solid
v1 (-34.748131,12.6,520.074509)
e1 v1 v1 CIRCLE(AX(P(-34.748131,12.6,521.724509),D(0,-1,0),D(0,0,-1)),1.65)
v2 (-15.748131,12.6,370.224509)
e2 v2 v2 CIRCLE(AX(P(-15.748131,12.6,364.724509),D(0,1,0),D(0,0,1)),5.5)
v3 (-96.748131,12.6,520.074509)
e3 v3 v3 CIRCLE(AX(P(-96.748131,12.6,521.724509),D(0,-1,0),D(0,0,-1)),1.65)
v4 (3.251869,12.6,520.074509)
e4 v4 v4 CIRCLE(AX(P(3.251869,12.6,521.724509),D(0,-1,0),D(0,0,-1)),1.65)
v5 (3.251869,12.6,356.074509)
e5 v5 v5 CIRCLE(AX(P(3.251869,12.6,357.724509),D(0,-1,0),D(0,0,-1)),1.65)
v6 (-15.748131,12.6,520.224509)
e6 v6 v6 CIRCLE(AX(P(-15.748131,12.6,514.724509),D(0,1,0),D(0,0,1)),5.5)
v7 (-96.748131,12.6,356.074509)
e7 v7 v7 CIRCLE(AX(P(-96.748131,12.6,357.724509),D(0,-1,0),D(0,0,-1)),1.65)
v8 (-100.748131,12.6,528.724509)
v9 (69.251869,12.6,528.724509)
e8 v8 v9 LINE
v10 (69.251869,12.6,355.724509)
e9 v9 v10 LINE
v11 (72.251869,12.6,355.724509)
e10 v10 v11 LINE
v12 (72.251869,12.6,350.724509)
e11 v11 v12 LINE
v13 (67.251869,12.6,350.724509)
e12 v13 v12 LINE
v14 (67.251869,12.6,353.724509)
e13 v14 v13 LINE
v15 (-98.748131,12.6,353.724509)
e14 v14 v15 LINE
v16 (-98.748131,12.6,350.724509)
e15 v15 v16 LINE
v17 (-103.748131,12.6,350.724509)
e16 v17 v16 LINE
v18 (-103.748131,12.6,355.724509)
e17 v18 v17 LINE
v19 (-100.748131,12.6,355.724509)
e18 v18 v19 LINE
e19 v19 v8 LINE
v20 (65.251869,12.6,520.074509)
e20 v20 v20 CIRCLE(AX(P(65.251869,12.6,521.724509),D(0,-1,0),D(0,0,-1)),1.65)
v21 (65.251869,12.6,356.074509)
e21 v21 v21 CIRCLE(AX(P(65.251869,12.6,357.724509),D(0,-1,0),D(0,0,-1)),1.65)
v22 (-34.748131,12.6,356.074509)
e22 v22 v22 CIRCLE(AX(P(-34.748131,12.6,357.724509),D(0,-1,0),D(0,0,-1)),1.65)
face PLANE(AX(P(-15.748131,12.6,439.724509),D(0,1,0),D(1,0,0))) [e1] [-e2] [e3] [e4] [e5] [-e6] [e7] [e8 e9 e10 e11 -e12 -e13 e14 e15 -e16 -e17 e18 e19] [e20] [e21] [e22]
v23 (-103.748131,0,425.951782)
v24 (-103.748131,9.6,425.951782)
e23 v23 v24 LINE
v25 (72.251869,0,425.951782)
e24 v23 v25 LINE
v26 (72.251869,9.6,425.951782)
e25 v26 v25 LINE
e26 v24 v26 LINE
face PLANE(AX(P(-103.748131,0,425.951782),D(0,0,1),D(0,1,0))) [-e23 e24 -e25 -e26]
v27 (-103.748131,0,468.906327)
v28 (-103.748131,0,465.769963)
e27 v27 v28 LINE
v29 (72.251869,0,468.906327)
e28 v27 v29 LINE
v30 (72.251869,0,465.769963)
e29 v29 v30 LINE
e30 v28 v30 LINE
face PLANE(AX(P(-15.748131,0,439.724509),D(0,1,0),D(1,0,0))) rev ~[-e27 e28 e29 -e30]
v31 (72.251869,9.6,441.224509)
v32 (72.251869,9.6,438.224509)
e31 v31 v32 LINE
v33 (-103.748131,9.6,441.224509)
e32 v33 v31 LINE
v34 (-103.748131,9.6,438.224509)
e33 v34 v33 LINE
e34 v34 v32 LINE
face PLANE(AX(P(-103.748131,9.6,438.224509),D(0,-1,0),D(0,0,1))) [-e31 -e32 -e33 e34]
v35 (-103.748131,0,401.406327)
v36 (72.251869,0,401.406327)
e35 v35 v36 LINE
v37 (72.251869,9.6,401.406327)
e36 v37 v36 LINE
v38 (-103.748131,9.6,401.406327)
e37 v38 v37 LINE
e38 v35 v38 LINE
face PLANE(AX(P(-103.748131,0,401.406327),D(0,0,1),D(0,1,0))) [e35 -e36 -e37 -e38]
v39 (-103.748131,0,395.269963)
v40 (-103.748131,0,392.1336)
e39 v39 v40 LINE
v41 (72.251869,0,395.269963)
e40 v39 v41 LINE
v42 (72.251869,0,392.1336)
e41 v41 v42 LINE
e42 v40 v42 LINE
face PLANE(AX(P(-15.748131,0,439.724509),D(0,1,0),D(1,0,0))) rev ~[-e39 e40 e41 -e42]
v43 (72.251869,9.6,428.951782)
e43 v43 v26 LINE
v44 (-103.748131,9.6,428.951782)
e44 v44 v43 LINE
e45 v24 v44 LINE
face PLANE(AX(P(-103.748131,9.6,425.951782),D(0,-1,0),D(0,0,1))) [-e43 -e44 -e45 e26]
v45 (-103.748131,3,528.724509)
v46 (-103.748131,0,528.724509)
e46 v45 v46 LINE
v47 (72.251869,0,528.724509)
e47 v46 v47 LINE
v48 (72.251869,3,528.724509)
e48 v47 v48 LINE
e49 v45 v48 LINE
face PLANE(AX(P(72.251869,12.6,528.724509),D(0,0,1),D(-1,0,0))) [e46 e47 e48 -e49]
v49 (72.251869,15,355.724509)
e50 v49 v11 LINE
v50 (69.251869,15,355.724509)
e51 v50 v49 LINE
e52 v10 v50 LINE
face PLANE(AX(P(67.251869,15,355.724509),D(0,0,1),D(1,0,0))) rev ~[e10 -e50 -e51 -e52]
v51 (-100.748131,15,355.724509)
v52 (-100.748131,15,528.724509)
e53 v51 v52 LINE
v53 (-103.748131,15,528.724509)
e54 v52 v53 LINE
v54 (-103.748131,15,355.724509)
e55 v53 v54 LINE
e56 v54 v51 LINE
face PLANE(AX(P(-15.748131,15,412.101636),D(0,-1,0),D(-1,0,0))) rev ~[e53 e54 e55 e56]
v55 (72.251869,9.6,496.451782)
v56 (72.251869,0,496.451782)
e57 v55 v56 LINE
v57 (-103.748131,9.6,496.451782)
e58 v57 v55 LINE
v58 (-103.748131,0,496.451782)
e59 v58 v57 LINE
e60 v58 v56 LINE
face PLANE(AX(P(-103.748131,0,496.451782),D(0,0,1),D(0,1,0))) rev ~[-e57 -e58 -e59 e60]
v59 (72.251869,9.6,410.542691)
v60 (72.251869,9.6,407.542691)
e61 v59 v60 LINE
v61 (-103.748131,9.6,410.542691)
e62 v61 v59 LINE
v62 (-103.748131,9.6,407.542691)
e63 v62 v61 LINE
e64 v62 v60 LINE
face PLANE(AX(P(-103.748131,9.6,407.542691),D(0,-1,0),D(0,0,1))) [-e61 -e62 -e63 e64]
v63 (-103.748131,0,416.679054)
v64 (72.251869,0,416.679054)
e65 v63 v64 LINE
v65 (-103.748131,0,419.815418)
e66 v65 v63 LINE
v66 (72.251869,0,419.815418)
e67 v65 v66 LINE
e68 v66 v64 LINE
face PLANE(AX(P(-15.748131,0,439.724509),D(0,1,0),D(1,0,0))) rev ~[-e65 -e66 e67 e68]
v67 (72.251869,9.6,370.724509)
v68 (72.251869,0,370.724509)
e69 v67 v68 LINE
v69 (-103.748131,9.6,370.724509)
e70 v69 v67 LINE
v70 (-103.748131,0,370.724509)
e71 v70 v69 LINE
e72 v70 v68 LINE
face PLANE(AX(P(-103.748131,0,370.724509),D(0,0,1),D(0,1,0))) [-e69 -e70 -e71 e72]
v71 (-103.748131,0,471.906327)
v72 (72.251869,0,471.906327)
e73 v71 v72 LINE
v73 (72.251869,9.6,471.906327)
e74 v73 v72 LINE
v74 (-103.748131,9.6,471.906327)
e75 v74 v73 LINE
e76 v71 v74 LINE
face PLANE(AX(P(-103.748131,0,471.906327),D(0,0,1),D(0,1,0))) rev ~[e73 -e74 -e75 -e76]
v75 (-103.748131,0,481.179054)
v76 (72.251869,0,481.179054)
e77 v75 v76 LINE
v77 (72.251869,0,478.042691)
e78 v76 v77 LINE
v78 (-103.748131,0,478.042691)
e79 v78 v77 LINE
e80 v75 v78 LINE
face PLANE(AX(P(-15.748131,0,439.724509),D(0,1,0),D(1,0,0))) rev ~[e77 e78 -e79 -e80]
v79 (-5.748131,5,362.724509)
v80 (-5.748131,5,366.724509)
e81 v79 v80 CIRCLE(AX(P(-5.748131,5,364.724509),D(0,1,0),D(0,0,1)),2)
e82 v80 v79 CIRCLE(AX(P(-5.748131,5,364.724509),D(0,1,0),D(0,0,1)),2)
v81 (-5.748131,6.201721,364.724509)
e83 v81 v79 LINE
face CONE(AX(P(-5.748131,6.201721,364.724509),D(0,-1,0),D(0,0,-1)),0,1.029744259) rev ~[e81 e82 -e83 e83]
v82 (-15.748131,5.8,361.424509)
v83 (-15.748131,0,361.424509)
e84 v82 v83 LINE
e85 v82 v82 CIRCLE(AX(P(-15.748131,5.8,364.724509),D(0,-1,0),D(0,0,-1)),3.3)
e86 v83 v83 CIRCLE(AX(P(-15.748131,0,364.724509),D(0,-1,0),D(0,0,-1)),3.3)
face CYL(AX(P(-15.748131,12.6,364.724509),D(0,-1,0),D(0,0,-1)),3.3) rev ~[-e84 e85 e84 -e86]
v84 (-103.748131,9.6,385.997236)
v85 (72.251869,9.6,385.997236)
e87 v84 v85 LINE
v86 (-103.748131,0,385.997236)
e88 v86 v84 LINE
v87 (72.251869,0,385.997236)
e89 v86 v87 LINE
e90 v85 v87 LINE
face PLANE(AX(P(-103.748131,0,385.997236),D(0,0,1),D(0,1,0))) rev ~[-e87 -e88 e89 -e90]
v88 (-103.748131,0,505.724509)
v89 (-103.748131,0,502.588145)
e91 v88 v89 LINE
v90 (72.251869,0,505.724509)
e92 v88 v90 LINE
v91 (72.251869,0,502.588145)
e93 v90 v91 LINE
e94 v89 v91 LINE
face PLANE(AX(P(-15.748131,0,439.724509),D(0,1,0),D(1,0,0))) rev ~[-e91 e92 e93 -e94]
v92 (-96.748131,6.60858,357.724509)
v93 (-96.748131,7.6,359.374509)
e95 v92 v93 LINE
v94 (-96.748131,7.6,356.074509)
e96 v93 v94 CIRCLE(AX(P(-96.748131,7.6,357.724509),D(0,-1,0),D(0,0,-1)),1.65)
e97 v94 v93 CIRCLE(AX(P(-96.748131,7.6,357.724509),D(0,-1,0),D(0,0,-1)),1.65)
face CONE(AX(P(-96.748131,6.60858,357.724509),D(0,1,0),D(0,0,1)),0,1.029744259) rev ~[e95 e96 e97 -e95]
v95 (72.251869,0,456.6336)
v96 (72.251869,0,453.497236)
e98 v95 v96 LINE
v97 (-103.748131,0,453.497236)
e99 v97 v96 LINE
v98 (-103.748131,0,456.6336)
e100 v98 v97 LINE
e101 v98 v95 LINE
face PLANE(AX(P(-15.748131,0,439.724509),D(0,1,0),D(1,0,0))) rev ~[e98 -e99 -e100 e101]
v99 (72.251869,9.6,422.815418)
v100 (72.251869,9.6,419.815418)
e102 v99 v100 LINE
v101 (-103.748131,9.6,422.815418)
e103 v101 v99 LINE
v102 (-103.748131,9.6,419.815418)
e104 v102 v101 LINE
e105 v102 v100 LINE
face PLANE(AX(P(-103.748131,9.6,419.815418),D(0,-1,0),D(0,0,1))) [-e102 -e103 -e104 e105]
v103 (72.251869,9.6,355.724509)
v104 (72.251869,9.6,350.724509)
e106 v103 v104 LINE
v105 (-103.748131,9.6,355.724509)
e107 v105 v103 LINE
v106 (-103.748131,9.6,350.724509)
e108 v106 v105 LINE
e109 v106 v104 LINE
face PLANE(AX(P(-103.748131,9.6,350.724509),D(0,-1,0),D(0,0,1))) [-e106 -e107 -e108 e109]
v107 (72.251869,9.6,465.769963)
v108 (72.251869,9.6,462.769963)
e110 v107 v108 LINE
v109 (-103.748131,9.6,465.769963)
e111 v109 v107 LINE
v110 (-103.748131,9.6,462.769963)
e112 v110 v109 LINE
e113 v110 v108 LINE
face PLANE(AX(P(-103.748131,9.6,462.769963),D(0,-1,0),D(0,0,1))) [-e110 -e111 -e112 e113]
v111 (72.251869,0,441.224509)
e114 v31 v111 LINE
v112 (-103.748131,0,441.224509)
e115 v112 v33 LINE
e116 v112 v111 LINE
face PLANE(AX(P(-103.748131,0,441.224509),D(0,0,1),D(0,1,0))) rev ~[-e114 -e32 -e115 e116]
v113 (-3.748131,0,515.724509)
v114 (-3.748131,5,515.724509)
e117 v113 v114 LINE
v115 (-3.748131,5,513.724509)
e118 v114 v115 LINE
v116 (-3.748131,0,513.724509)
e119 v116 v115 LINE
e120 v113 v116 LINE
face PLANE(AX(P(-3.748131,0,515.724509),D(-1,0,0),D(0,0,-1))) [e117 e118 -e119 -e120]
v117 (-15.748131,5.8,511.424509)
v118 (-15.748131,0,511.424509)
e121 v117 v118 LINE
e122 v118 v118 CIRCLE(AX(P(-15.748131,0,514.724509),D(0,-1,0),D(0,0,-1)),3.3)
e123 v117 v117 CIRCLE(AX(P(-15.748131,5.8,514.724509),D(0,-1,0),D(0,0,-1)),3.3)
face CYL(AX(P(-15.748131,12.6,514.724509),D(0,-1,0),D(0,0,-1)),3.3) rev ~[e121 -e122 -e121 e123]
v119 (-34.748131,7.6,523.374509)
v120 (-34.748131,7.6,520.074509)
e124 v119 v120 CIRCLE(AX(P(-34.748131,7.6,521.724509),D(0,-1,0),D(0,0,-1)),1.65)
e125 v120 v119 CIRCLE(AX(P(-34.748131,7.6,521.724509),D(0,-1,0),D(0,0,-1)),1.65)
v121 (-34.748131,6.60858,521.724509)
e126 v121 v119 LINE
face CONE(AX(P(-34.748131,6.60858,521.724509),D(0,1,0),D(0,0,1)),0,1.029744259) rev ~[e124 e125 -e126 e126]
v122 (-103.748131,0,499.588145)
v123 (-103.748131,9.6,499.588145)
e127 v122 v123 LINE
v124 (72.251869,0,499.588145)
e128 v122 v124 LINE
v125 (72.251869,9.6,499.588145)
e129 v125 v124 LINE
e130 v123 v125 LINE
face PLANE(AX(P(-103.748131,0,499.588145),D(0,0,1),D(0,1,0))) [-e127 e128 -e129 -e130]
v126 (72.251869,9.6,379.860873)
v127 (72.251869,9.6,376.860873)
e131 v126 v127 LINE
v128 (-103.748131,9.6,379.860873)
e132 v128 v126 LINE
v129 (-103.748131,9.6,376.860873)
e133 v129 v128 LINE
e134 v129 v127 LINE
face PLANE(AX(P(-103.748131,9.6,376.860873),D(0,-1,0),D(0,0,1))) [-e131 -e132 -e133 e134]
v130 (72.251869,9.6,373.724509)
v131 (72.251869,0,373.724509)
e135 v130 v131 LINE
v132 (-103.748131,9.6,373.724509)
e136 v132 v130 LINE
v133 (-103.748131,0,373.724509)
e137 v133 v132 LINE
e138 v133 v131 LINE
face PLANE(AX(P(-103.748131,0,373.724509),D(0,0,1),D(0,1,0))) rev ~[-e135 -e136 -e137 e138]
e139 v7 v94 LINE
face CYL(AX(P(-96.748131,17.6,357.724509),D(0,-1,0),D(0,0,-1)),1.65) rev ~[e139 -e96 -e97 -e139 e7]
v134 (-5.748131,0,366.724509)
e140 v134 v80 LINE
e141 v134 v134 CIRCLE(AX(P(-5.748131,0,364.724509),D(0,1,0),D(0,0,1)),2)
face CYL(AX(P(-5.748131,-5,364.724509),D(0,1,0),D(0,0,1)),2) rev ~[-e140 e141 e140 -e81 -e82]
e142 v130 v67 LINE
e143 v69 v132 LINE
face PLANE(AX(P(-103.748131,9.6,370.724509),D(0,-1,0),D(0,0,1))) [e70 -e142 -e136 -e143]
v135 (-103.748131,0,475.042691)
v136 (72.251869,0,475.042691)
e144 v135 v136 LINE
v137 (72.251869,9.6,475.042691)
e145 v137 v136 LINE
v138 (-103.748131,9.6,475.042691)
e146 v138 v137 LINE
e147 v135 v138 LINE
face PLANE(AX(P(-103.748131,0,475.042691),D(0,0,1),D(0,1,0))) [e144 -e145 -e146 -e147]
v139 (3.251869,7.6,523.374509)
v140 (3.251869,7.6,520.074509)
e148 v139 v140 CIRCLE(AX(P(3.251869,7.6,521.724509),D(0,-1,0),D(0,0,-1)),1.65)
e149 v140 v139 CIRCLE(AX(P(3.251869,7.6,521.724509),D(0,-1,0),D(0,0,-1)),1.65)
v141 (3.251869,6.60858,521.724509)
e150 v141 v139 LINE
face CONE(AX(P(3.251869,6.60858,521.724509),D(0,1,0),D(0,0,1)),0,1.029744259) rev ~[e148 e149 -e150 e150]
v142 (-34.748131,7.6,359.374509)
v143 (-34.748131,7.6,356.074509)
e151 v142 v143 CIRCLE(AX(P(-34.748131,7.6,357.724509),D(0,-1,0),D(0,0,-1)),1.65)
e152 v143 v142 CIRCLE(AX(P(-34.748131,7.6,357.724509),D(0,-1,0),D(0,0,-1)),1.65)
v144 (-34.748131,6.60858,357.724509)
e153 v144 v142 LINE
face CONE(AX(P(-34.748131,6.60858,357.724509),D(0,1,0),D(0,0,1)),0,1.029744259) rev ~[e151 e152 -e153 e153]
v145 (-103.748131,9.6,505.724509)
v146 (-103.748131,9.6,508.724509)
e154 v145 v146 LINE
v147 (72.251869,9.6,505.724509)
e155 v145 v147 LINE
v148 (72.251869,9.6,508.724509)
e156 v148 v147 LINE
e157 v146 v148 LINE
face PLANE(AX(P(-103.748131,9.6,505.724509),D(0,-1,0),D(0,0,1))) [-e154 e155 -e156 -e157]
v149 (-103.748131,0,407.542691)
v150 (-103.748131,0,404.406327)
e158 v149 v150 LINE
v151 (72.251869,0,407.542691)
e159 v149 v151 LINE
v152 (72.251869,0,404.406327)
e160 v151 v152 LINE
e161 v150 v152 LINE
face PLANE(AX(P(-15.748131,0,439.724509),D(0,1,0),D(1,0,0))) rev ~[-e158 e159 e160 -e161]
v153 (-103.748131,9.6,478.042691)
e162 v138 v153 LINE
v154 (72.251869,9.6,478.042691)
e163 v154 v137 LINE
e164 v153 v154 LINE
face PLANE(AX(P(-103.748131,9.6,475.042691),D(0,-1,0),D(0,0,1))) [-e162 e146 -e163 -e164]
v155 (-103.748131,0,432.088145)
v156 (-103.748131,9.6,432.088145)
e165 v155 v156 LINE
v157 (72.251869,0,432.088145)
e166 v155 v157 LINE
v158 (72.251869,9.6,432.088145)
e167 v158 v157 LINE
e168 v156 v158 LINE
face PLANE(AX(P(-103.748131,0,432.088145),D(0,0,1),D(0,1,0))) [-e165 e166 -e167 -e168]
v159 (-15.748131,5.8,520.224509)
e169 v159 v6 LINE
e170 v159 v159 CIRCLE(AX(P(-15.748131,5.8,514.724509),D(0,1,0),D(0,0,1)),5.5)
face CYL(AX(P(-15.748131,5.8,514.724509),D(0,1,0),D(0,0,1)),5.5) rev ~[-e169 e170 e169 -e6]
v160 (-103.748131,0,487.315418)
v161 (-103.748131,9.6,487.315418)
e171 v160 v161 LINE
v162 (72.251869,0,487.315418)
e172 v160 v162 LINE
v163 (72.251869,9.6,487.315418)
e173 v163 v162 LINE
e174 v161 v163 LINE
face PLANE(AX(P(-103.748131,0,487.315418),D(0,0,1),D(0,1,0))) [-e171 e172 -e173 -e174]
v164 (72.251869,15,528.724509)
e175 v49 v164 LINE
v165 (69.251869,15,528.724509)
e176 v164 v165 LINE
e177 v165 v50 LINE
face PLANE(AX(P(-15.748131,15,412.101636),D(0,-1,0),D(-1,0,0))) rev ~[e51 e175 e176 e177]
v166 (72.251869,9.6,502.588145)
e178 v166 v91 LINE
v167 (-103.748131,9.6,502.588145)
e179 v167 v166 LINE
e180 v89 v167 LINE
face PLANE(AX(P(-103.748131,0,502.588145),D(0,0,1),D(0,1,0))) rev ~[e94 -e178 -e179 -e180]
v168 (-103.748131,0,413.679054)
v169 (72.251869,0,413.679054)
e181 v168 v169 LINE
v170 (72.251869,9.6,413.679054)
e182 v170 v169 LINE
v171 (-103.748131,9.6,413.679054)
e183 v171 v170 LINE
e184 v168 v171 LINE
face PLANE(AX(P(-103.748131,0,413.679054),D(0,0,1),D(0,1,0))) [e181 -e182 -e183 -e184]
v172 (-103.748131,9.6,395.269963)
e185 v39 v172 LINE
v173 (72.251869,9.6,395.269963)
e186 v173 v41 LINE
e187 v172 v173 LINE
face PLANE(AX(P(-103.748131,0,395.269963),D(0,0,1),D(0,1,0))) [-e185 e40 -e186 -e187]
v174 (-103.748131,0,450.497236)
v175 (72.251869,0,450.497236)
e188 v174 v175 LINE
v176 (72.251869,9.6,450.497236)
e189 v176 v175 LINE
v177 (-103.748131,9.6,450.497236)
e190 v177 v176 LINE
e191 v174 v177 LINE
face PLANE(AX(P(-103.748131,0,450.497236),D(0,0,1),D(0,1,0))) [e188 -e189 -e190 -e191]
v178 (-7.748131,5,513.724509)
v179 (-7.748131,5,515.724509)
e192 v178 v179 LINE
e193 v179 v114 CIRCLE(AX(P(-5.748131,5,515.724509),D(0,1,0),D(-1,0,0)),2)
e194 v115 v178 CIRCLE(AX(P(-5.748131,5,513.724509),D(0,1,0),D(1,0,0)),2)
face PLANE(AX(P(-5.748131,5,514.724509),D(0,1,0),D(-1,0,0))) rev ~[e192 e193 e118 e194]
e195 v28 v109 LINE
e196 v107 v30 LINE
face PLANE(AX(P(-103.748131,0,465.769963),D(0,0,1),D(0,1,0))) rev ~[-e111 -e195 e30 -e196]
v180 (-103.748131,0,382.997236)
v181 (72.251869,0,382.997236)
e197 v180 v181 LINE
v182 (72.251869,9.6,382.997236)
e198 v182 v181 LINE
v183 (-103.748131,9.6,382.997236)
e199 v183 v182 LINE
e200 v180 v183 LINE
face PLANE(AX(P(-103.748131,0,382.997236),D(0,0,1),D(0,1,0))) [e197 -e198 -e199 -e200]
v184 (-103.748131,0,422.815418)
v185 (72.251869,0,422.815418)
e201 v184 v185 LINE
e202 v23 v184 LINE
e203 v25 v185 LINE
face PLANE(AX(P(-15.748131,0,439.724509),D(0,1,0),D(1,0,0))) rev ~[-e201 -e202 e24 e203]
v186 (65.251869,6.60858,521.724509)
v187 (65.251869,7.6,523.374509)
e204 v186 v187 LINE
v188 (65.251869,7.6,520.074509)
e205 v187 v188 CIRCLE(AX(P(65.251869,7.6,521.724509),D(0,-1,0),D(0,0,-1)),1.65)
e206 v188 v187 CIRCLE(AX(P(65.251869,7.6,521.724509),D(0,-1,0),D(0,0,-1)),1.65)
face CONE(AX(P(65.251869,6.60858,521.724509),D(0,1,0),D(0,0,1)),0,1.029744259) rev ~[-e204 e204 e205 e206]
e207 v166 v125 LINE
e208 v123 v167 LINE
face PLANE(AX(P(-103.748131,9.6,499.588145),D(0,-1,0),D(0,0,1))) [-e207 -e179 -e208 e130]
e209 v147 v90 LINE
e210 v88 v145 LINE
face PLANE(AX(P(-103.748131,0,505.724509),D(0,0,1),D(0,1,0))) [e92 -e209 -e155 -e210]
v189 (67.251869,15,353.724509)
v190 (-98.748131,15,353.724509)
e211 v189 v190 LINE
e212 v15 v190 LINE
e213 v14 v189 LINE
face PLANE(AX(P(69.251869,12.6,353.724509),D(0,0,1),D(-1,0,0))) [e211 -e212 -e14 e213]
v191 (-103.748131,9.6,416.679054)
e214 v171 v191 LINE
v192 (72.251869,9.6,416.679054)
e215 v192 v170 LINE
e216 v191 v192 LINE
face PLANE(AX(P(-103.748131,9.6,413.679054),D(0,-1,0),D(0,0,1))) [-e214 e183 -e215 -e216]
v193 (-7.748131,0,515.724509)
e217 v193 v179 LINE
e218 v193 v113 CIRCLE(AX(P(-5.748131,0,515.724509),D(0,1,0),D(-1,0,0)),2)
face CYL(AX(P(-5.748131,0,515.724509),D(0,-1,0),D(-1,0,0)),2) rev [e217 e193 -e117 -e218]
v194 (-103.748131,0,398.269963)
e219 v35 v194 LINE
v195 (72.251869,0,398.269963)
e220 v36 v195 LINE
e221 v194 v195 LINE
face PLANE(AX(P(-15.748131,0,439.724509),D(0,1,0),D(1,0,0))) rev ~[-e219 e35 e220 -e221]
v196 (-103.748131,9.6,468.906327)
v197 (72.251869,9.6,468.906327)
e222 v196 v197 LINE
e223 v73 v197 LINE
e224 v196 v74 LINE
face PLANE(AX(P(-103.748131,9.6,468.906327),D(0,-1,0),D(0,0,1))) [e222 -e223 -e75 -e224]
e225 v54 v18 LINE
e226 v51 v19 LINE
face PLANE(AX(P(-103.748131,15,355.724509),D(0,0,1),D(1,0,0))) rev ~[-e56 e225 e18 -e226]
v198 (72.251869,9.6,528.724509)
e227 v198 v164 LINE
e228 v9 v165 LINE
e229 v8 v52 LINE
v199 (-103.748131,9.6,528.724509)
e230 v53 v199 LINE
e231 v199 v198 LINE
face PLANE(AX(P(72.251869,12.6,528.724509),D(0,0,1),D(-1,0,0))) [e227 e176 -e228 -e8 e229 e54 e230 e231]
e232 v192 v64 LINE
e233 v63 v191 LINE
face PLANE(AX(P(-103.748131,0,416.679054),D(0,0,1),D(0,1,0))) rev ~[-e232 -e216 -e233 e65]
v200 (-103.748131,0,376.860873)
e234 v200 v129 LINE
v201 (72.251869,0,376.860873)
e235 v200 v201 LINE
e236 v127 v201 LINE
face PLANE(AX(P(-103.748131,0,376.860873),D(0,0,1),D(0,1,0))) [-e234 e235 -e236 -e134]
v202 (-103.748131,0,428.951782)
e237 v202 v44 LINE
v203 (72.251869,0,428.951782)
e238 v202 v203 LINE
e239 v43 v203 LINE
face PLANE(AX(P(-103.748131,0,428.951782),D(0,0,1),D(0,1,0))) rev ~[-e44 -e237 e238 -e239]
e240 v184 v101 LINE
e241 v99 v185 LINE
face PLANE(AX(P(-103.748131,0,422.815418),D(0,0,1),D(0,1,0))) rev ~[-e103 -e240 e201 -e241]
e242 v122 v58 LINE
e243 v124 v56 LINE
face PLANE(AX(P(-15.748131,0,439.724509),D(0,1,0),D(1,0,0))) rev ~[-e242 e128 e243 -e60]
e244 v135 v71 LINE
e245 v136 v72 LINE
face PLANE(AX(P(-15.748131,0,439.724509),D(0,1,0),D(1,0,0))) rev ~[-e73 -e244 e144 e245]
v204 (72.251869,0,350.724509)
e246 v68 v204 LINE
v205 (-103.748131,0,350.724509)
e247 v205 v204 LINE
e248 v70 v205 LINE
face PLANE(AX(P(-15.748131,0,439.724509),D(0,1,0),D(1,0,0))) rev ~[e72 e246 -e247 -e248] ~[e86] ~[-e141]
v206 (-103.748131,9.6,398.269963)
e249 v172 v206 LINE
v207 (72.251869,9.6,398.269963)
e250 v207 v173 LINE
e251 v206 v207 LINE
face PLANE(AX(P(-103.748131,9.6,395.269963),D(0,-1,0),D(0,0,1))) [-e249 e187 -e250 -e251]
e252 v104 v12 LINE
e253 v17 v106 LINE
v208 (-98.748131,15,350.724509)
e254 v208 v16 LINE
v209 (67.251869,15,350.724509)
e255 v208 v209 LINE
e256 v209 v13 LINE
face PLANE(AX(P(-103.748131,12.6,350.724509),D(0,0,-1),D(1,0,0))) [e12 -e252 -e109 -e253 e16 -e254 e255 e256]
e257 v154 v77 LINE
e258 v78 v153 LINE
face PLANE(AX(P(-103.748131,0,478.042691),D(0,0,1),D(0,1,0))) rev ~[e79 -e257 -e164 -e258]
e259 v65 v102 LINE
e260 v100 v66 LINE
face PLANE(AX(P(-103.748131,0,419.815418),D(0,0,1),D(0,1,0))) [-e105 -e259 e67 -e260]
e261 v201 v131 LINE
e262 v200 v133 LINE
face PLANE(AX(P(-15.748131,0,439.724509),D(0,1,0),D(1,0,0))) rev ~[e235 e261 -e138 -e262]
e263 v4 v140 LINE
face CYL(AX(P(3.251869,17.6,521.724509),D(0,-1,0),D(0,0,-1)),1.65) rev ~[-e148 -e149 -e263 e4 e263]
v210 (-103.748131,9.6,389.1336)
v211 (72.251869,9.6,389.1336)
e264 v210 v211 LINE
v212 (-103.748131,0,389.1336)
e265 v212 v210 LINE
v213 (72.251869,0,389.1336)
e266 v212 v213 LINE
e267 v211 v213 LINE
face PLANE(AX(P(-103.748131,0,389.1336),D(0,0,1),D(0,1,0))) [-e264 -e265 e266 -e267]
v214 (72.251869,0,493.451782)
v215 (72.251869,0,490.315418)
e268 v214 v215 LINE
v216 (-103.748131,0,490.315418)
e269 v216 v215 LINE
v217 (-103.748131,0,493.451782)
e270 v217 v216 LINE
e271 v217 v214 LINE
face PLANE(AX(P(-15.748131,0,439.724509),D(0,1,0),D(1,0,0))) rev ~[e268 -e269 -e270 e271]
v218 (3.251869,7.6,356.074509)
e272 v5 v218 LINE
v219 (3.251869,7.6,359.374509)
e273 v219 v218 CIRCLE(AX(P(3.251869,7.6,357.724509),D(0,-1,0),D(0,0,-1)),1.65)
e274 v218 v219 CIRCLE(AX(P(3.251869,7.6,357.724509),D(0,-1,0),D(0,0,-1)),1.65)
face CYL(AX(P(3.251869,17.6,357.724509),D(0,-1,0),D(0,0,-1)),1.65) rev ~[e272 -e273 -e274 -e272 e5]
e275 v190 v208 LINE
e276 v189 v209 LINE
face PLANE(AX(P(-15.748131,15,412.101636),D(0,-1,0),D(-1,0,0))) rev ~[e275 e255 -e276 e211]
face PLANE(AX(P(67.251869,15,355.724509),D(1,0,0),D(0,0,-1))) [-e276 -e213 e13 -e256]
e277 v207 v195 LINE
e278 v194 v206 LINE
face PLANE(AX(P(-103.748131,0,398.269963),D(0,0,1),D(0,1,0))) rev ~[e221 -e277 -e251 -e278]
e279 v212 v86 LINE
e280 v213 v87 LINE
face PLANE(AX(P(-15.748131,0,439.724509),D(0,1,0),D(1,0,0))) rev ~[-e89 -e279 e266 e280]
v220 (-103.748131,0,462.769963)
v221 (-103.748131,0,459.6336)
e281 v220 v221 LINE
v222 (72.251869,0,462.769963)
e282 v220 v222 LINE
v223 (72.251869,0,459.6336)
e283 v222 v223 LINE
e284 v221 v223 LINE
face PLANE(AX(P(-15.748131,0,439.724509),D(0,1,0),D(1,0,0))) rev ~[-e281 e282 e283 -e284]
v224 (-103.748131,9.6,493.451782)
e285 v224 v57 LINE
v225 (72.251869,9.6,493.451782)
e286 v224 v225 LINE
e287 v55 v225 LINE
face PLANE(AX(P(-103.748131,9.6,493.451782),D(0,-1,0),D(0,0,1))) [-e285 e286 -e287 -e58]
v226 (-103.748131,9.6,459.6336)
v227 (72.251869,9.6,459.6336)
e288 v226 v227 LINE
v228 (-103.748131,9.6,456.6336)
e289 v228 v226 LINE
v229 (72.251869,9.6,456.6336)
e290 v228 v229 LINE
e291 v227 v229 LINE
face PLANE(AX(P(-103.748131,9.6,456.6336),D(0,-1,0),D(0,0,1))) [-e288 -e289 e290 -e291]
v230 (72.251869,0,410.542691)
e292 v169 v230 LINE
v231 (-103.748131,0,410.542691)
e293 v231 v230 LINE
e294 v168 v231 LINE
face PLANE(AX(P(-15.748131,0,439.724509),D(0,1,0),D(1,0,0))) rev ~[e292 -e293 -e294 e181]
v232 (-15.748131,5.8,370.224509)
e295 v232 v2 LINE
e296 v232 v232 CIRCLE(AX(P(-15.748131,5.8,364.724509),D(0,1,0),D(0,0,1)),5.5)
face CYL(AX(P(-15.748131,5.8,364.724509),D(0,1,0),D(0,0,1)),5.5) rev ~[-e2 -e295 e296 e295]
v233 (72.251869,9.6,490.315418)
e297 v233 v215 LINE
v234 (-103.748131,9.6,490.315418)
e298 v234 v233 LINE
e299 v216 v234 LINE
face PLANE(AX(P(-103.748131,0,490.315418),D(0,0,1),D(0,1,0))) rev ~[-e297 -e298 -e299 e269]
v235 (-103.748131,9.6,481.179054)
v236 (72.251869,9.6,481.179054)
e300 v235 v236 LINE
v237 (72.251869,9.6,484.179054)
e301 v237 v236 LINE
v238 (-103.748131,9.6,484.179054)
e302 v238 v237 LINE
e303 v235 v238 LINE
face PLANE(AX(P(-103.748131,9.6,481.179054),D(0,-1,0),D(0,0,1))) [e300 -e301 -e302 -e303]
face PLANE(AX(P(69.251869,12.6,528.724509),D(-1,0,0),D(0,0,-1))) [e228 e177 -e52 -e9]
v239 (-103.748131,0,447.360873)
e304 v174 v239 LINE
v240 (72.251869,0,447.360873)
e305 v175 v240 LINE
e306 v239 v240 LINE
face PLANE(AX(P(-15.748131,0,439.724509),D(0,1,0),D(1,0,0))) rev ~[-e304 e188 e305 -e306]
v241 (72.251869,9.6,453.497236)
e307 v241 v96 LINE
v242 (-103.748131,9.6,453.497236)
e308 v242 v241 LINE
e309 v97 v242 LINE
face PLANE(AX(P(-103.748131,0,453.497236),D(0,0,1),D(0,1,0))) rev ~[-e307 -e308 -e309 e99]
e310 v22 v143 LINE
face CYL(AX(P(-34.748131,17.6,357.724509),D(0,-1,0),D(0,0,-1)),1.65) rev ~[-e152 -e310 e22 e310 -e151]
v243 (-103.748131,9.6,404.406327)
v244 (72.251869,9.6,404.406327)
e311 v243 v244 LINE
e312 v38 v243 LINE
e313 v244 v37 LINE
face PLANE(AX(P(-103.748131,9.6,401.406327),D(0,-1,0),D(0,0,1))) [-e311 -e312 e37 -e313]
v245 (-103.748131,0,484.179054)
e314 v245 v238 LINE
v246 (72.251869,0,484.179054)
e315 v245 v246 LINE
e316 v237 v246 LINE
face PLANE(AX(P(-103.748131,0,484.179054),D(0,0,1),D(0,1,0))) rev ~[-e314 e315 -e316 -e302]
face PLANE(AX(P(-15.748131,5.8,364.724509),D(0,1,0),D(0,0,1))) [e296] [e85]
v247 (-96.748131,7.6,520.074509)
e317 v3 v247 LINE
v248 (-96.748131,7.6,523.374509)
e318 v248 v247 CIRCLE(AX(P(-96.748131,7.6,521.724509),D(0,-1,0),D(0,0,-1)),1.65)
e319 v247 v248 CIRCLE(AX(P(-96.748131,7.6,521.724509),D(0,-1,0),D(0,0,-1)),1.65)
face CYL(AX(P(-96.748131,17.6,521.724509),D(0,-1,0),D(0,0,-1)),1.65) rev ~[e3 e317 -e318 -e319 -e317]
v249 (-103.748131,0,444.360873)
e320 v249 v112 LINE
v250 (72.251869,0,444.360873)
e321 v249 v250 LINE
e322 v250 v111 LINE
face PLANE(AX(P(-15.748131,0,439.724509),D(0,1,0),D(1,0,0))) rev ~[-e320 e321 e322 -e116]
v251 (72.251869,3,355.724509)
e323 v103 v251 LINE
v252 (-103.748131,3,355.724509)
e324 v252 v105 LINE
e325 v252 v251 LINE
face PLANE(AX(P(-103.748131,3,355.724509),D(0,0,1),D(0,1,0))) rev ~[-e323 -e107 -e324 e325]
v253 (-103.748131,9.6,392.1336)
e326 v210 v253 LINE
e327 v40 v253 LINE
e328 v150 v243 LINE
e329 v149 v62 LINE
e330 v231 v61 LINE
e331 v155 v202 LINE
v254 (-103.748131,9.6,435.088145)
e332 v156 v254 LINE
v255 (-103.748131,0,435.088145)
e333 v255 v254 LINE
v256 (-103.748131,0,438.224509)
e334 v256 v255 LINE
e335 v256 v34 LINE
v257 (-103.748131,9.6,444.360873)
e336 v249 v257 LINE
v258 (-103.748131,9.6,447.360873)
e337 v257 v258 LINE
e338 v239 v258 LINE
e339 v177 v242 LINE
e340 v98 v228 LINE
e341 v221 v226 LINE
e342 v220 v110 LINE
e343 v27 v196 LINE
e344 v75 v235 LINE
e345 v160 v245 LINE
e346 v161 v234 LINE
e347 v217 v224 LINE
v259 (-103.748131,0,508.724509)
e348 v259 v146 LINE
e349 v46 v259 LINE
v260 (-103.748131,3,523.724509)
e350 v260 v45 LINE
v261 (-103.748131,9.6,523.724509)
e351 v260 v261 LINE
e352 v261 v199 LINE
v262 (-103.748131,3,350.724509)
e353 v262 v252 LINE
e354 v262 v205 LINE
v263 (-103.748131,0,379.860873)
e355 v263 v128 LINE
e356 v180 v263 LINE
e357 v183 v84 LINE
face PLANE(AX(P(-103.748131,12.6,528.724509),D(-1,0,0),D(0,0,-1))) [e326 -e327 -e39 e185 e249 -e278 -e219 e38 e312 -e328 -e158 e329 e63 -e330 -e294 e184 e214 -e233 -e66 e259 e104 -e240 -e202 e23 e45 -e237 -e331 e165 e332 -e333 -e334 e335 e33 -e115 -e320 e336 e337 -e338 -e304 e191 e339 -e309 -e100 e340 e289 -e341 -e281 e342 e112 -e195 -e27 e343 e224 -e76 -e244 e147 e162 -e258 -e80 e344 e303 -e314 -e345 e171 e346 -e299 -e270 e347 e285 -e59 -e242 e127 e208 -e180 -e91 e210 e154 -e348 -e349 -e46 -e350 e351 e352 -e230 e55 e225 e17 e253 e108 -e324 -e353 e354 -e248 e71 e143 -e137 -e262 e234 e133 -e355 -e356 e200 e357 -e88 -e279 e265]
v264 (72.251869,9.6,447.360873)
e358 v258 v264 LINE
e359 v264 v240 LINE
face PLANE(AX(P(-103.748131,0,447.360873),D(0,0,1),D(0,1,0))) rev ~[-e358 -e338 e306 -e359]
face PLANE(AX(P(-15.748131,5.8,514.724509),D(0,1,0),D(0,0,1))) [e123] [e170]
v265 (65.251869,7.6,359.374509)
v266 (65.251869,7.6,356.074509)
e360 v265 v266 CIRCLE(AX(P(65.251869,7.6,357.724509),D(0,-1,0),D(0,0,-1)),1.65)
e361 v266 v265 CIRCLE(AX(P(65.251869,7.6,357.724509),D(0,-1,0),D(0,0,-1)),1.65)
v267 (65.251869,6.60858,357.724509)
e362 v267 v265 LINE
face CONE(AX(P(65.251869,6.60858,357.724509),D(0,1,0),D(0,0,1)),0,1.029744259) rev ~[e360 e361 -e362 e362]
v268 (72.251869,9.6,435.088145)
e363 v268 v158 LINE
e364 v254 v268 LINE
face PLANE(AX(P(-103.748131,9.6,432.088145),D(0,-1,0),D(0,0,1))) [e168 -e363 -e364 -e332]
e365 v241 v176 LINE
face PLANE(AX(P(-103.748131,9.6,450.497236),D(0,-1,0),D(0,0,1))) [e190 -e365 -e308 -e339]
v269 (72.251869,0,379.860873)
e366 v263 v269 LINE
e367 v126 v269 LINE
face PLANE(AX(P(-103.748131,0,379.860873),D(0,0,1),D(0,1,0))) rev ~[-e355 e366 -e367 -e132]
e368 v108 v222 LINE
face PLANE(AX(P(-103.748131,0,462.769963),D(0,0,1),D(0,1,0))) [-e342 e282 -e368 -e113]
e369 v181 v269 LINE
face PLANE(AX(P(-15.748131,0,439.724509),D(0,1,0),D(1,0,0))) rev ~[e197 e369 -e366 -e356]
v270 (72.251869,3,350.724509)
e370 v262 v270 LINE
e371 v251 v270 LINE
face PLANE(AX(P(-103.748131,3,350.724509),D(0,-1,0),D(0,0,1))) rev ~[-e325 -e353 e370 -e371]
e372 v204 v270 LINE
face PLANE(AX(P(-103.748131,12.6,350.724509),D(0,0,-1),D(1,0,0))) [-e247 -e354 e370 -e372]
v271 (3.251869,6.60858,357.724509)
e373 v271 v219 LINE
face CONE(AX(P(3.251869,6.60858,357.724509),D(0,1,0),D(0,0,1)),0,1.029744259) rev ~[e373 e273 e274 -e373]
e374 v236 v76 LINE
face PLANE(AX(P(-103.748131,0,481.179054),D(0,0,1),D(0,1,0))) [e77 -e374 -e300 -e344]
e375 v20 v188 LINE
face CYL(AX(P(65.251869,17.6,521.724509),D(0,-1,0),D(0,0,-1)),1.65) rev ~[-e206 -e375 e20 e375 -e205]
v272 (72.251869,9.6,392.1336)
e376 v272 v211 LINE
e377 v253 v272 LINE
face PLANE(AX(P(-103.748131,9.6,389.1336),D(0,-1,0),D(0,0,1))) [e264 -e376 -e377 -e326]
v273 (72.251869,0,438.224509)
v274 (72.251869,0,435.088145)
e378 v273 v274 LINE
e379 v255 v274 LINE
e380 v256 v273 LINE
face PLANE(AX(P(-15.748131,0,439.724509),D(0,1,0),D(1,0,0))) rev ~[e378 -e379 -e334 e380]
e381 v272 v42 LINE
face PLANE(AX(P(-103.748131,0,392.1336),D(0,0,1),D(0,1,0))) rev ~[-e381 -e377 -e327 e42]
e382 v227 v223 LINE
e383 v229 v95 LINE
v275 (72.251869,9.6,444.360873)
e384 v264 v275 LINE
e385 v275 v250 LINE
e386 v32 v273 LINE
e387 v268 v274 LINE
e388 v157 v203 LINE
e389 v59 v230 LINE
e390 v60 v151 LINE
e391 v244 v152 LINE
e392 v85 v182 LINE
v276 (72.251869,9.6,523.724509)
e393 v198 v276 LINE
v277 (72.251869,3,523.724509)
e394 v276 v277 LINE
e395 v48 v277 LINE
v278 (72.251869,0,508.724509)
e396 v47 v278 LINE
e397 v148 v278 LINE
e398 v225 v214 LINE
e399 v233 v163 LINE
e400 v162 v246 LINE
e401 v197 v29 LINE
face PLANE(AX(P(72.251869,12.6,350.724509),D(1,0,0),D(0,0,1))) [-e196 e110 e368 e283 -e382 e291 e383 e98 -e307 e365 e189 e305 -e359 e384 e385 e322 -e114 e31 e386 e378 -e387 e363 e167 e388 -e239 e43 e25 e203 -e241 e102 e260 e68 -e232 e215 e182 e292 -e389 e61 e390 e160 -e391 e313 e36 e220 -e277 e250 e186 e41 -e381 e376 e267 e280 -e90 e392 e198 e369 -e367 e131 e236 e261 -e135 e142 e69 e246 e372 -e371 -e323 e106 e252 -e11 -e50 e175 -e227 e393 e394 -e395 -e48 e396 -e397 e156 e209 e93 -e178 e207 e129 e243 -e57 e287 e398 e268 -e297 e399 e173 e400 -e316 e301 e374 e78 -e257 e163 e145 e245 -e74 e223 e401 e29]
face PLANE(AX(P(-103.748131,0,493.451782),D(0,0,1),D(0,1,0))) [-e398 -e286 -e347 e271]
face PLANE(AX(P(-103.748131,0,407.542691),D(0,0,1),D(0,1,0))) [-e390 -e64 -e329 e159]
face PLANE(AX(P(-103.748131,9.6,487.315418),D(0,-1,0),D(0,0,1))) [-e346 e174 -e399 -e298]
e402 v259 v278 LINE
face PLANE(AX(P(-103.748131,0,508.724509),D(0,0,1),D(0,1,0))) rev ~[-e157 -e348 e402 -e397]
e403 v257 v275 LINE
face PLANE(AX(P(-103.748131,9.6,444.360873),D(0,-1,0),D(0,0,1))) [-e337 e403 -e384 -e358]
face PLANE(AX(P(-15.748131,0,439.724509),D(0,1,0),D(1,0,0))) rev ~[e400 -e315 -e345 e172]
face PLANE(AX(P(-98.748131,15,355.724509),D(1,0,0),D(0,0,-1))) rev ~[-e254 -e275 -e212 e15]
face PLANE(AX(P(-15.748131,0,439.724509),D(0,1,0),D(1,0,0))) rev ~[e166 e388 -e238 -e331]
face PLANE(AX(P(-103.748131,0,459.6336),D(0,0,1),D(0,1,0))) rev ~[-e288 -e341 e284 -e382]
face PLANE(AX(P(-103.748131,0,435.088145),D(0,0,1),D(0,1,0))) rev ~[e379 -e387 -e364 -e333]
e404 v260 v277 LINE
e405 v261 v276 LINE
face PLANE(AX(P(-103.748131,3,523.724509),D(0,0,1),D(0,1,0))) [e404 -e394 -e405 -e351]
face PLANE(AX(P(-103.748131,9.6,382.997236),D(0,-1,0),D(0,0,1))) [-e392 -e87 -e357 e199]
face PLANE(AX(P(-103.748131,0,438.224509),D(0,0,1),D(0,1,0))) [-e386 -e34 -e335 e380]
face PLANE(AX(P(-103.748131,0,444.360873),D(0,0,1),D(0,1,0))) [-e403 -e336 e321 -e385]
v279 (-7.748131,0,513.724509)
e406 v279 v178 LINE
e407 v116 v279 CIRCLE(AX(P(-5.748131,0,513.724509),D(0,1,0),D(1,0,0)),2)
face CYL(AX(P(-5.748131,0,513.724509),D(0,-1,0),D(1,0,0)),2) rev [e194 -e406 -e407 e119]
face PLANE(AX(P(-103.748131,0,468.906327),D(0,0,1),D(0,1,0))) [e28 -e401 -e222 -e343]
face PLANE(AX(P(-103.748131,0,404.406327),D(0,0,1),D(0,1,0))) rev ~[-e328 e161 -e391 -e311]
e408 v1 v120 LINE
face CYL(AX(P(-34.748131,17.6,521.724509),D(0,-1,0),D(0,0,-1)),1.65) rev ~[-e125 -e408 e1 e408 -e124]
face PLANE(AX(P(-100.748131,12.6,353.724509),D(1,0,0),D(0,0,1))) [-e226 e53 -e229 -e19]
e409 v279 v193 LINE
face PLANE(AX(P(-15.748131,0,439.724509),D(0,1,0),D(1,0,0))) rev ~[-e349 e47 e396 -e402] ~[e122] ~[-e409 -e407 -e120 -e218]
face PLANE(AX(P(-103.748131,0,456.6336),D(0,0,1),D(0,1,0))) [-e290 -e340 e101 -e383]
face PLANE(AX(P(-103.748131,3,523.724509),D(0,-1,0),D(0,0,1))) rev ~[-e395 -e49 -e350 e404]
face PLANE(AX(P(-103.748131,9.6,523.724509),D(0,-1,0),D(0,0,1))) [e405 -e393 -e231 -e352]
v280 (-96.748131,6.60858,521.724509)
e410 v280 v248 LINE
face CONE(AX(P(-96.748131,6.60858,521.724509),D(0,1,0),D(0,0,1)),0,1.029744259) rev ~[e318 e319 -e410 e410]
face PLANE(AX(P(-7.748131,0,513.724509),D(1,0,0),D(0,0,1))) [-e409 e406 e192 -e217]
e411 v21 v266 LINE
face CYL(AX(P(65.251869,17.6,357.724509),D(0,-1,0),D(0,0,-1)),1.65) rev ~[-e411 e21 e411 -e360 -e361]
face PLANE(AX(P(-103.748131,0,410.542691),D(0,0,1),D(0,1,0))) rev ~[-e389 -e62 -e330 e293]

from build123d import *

# Parameters (mm, degrees)
SKETCH_1_W                = 176
SKETCH_1_H                = 178
EXTRUDE_1_DEPTH           = 12.6
EXTRUDE_3_DEPTH           = 2.4
SKETCH_8_W                = 5
SKETCH_8_H                = 5
CUT_EXTRUDE_4_DEPTH       = 2.4
HOLE_WIZARD_M4_1_D        = 3.3
HOLE_WIZARD_M4_1_DEPTH    = 5
HOLE_WIZARD_M4_1_TIP      = 0.991420021
SKETCH_14_W               = 5
SKETCH_14_H               = 6.6
CUT_EXTRUDE_6_DEPTH       = 177
SKETCH_15_W               = 3
SKETCH_15_H               = 9.6
CUT_EXTRUDE_7_DEPTH       = 177
PATTERN_LINEAR_3_COUNT    = 23
PATTERN_LINEAR_3_PITCH    = 6.136363636
HOLE_WIZARD_2_D           = 6.6
HOLE_WIZARD_2_CBORE_D     = 11
HOLE_WIZARD_2_CBORE_DEPTH = 6.8
MM_2_D                    = 4
MM_2_DEPTH                = 5
MM_2_TIP                  = 1.201721238
CUT_EXTRUDE_11_DEPTH      = 5


with BuildPart() as part:
    # 草图1 → 凸台-拉伸1 (new body)
    with BuildSketch(Plane(origin=(0, 12.6, 0), x_dir=(1, 0, 0), z_dir=(0, 1, 0))):
        with Locations((-15.748130707, -439.724508868)):
            Rectangle(SKETCH_1_W, SKETCH_1_H)
    extrude(amount=-EXTRUDE_1_DEPTH)

    # 草图7 → 凸台-拉伸3 (add)
    with BuildSketch(Plane(origin=(0, 12.6, 0), x_dir=(1, 0, 0), z_dir=(0, 1, 0))):
        Polygon((69.251869293, -528.724508868), (69.251869293, -353.724508868), (-100.748130707, -353.724508868), (-100.748130707, -528.724508868), (-103.748130707, -528.724508868), (-103.748130707, -350.724508868), (72.251869293, -350.724508868), (72.251869293, -528.724508868), align=None)
    extrude(amount=EXTRUDE_3_DEPTH)

    # 草图8 → 切除-拉伸4 (cut)
    with BuildSketch(Plane(origin=(0, 15, 0), x_dir=(1, 0, 0), z_dir=(0, 1, 0))):
        with Locations((-101.248130707, -353.224508868)):
            Rectangle(SKETCH_8_W, SKETCH_8_H)
        with Locations((69.751869293, -353.224508868)):
            Rectangle(SKETCH_8_W, SKETCH_8_H)
    extrude(amount=-CUT_EXTRUDE_4_DEPTH, mode=Mode.SUBTRACT)

    # M4 螺纹孔1
    with Locations(Plane(origin=(-96.748130707, 12.6, 357.724508868), x_dir=(0, 0, 1), z_dir=(0, 1, 0))):
        with Locations((0, 0), (0, 62), (164, 62), (164, 0), (164, 100), (164, 162), (0, 162), (0, 100)):
            Hole(HOLE_WIZARD_M4_1_D / 2, depth=HOLE_WIZARD_M4_1_DEPTH)
            with Locations((0, 0, -(HOLE_WIZARD_M4_1_DEPTH + HOLE_WIZARD_M4_1_TIP / 2))):  # 118° drill point
                Cone(0, HOLE_WIZARD_M4_1_D / 2, HOLE_WIZARD_M4_1_TIP, mode=Mode.SUBTRACT)

    # 草图14 → 切除-拉伸6 (cut, through all)
    with BuildSketch(Plane.ZY.offset(103.748130707)):
        with Locations((526.224508868, 6.3)):
            Rectangle(SKETCH_14_W, SKETCH_14_H)
        with Locations((353.224508868, 6.3)):
            Rectangle(SKETCH_14_W, SKETCH_14_H)
    extrude(amount=-CUT_EXTRUDE_6_DEPTH, mode=Mode.SUBTRACT)

    # 草图15 → 切除-拉伸7 (cut, through all)
    with BuildSketch(Plane.ZY.offset(103.748130707)):
        with Locations((507.224508868, 4.8)):
            Rectangle(SKETCH_15_W, SKETCH_15_H)
    cut_extrude_7 = extrude(amount=-CUT_EXTRUDE_7_DEPTH, mode=Mode.SUBTRACT)

    # 阵列(线性)3: 切除-拉伸7 ×23
    with Locations(*[(0, 0, -i * PATTERN_LINEAR_3_PITCH) for i in range(1, PATTERN_LINEAR_3_COUNT)]):
        add(cut_extrude_7, mode=Mode.SUBTRACT)

    # 打孔尺寸(%根据)内六角圆柱头螺钉的类型2 (through all)
    with Locations(Plane(origin=(-15.748130707, 12.6, 514.724508868), x_dir=(0, 0, 1), z_dir=(0, 1, 0))):
        with Locations((0, 0), (-150, 0)):
            CounterBoreHole(HOLE_WIZARD_2_D / 2, HOLE_WIZARD_2_CBORE_D / 2, HOLE_WIZARD_2_CBORE_DEPTH)

    # 大小mm 暗销孔2
    with Locations(Plane(origin=(-5.748130707, 0, 364.724508868), x_dir=(0, 0, -1), z_dir=(0, -1, 0))):
        with Locations((0, 0)):
            Hole(MM_2_D / 2, depth=MM_2_DEPTH)
            with Locations((0, 0, -(MM_2_DEPTH + MM_2_TIP / 2))):  # 118° drill point
                Cone(0, MM_2_D / 2, MM_2_TIP, mode=Mode.SUBTRACT)

    # 草图22 → 切除-拉伸11 (cut)
    with BuildSketch(Plane.XZ):
        with BuildLine():
            Line((-7.748130707, 513.724508868), (-7.748130707, 515.724508868))
            ThreePointArc((-7.748130707, 515.724508868), (-5.748130707, 517.724508868), (-3.748130707, 515.724508868))
            Line((-3.748130707, 515.724508868), (-3.748130707, 513.724508868))
            ThreePointArc((-3.748130707, 513.724508868), (-5.748130707, 511.724508868), (-7.748130707, 513.724508868))
        make_face()
    extrude(amount=-CUT_EXTRUDE_11_DEPTH, mode=Mode.SUBTRACT)


solid = part.part
